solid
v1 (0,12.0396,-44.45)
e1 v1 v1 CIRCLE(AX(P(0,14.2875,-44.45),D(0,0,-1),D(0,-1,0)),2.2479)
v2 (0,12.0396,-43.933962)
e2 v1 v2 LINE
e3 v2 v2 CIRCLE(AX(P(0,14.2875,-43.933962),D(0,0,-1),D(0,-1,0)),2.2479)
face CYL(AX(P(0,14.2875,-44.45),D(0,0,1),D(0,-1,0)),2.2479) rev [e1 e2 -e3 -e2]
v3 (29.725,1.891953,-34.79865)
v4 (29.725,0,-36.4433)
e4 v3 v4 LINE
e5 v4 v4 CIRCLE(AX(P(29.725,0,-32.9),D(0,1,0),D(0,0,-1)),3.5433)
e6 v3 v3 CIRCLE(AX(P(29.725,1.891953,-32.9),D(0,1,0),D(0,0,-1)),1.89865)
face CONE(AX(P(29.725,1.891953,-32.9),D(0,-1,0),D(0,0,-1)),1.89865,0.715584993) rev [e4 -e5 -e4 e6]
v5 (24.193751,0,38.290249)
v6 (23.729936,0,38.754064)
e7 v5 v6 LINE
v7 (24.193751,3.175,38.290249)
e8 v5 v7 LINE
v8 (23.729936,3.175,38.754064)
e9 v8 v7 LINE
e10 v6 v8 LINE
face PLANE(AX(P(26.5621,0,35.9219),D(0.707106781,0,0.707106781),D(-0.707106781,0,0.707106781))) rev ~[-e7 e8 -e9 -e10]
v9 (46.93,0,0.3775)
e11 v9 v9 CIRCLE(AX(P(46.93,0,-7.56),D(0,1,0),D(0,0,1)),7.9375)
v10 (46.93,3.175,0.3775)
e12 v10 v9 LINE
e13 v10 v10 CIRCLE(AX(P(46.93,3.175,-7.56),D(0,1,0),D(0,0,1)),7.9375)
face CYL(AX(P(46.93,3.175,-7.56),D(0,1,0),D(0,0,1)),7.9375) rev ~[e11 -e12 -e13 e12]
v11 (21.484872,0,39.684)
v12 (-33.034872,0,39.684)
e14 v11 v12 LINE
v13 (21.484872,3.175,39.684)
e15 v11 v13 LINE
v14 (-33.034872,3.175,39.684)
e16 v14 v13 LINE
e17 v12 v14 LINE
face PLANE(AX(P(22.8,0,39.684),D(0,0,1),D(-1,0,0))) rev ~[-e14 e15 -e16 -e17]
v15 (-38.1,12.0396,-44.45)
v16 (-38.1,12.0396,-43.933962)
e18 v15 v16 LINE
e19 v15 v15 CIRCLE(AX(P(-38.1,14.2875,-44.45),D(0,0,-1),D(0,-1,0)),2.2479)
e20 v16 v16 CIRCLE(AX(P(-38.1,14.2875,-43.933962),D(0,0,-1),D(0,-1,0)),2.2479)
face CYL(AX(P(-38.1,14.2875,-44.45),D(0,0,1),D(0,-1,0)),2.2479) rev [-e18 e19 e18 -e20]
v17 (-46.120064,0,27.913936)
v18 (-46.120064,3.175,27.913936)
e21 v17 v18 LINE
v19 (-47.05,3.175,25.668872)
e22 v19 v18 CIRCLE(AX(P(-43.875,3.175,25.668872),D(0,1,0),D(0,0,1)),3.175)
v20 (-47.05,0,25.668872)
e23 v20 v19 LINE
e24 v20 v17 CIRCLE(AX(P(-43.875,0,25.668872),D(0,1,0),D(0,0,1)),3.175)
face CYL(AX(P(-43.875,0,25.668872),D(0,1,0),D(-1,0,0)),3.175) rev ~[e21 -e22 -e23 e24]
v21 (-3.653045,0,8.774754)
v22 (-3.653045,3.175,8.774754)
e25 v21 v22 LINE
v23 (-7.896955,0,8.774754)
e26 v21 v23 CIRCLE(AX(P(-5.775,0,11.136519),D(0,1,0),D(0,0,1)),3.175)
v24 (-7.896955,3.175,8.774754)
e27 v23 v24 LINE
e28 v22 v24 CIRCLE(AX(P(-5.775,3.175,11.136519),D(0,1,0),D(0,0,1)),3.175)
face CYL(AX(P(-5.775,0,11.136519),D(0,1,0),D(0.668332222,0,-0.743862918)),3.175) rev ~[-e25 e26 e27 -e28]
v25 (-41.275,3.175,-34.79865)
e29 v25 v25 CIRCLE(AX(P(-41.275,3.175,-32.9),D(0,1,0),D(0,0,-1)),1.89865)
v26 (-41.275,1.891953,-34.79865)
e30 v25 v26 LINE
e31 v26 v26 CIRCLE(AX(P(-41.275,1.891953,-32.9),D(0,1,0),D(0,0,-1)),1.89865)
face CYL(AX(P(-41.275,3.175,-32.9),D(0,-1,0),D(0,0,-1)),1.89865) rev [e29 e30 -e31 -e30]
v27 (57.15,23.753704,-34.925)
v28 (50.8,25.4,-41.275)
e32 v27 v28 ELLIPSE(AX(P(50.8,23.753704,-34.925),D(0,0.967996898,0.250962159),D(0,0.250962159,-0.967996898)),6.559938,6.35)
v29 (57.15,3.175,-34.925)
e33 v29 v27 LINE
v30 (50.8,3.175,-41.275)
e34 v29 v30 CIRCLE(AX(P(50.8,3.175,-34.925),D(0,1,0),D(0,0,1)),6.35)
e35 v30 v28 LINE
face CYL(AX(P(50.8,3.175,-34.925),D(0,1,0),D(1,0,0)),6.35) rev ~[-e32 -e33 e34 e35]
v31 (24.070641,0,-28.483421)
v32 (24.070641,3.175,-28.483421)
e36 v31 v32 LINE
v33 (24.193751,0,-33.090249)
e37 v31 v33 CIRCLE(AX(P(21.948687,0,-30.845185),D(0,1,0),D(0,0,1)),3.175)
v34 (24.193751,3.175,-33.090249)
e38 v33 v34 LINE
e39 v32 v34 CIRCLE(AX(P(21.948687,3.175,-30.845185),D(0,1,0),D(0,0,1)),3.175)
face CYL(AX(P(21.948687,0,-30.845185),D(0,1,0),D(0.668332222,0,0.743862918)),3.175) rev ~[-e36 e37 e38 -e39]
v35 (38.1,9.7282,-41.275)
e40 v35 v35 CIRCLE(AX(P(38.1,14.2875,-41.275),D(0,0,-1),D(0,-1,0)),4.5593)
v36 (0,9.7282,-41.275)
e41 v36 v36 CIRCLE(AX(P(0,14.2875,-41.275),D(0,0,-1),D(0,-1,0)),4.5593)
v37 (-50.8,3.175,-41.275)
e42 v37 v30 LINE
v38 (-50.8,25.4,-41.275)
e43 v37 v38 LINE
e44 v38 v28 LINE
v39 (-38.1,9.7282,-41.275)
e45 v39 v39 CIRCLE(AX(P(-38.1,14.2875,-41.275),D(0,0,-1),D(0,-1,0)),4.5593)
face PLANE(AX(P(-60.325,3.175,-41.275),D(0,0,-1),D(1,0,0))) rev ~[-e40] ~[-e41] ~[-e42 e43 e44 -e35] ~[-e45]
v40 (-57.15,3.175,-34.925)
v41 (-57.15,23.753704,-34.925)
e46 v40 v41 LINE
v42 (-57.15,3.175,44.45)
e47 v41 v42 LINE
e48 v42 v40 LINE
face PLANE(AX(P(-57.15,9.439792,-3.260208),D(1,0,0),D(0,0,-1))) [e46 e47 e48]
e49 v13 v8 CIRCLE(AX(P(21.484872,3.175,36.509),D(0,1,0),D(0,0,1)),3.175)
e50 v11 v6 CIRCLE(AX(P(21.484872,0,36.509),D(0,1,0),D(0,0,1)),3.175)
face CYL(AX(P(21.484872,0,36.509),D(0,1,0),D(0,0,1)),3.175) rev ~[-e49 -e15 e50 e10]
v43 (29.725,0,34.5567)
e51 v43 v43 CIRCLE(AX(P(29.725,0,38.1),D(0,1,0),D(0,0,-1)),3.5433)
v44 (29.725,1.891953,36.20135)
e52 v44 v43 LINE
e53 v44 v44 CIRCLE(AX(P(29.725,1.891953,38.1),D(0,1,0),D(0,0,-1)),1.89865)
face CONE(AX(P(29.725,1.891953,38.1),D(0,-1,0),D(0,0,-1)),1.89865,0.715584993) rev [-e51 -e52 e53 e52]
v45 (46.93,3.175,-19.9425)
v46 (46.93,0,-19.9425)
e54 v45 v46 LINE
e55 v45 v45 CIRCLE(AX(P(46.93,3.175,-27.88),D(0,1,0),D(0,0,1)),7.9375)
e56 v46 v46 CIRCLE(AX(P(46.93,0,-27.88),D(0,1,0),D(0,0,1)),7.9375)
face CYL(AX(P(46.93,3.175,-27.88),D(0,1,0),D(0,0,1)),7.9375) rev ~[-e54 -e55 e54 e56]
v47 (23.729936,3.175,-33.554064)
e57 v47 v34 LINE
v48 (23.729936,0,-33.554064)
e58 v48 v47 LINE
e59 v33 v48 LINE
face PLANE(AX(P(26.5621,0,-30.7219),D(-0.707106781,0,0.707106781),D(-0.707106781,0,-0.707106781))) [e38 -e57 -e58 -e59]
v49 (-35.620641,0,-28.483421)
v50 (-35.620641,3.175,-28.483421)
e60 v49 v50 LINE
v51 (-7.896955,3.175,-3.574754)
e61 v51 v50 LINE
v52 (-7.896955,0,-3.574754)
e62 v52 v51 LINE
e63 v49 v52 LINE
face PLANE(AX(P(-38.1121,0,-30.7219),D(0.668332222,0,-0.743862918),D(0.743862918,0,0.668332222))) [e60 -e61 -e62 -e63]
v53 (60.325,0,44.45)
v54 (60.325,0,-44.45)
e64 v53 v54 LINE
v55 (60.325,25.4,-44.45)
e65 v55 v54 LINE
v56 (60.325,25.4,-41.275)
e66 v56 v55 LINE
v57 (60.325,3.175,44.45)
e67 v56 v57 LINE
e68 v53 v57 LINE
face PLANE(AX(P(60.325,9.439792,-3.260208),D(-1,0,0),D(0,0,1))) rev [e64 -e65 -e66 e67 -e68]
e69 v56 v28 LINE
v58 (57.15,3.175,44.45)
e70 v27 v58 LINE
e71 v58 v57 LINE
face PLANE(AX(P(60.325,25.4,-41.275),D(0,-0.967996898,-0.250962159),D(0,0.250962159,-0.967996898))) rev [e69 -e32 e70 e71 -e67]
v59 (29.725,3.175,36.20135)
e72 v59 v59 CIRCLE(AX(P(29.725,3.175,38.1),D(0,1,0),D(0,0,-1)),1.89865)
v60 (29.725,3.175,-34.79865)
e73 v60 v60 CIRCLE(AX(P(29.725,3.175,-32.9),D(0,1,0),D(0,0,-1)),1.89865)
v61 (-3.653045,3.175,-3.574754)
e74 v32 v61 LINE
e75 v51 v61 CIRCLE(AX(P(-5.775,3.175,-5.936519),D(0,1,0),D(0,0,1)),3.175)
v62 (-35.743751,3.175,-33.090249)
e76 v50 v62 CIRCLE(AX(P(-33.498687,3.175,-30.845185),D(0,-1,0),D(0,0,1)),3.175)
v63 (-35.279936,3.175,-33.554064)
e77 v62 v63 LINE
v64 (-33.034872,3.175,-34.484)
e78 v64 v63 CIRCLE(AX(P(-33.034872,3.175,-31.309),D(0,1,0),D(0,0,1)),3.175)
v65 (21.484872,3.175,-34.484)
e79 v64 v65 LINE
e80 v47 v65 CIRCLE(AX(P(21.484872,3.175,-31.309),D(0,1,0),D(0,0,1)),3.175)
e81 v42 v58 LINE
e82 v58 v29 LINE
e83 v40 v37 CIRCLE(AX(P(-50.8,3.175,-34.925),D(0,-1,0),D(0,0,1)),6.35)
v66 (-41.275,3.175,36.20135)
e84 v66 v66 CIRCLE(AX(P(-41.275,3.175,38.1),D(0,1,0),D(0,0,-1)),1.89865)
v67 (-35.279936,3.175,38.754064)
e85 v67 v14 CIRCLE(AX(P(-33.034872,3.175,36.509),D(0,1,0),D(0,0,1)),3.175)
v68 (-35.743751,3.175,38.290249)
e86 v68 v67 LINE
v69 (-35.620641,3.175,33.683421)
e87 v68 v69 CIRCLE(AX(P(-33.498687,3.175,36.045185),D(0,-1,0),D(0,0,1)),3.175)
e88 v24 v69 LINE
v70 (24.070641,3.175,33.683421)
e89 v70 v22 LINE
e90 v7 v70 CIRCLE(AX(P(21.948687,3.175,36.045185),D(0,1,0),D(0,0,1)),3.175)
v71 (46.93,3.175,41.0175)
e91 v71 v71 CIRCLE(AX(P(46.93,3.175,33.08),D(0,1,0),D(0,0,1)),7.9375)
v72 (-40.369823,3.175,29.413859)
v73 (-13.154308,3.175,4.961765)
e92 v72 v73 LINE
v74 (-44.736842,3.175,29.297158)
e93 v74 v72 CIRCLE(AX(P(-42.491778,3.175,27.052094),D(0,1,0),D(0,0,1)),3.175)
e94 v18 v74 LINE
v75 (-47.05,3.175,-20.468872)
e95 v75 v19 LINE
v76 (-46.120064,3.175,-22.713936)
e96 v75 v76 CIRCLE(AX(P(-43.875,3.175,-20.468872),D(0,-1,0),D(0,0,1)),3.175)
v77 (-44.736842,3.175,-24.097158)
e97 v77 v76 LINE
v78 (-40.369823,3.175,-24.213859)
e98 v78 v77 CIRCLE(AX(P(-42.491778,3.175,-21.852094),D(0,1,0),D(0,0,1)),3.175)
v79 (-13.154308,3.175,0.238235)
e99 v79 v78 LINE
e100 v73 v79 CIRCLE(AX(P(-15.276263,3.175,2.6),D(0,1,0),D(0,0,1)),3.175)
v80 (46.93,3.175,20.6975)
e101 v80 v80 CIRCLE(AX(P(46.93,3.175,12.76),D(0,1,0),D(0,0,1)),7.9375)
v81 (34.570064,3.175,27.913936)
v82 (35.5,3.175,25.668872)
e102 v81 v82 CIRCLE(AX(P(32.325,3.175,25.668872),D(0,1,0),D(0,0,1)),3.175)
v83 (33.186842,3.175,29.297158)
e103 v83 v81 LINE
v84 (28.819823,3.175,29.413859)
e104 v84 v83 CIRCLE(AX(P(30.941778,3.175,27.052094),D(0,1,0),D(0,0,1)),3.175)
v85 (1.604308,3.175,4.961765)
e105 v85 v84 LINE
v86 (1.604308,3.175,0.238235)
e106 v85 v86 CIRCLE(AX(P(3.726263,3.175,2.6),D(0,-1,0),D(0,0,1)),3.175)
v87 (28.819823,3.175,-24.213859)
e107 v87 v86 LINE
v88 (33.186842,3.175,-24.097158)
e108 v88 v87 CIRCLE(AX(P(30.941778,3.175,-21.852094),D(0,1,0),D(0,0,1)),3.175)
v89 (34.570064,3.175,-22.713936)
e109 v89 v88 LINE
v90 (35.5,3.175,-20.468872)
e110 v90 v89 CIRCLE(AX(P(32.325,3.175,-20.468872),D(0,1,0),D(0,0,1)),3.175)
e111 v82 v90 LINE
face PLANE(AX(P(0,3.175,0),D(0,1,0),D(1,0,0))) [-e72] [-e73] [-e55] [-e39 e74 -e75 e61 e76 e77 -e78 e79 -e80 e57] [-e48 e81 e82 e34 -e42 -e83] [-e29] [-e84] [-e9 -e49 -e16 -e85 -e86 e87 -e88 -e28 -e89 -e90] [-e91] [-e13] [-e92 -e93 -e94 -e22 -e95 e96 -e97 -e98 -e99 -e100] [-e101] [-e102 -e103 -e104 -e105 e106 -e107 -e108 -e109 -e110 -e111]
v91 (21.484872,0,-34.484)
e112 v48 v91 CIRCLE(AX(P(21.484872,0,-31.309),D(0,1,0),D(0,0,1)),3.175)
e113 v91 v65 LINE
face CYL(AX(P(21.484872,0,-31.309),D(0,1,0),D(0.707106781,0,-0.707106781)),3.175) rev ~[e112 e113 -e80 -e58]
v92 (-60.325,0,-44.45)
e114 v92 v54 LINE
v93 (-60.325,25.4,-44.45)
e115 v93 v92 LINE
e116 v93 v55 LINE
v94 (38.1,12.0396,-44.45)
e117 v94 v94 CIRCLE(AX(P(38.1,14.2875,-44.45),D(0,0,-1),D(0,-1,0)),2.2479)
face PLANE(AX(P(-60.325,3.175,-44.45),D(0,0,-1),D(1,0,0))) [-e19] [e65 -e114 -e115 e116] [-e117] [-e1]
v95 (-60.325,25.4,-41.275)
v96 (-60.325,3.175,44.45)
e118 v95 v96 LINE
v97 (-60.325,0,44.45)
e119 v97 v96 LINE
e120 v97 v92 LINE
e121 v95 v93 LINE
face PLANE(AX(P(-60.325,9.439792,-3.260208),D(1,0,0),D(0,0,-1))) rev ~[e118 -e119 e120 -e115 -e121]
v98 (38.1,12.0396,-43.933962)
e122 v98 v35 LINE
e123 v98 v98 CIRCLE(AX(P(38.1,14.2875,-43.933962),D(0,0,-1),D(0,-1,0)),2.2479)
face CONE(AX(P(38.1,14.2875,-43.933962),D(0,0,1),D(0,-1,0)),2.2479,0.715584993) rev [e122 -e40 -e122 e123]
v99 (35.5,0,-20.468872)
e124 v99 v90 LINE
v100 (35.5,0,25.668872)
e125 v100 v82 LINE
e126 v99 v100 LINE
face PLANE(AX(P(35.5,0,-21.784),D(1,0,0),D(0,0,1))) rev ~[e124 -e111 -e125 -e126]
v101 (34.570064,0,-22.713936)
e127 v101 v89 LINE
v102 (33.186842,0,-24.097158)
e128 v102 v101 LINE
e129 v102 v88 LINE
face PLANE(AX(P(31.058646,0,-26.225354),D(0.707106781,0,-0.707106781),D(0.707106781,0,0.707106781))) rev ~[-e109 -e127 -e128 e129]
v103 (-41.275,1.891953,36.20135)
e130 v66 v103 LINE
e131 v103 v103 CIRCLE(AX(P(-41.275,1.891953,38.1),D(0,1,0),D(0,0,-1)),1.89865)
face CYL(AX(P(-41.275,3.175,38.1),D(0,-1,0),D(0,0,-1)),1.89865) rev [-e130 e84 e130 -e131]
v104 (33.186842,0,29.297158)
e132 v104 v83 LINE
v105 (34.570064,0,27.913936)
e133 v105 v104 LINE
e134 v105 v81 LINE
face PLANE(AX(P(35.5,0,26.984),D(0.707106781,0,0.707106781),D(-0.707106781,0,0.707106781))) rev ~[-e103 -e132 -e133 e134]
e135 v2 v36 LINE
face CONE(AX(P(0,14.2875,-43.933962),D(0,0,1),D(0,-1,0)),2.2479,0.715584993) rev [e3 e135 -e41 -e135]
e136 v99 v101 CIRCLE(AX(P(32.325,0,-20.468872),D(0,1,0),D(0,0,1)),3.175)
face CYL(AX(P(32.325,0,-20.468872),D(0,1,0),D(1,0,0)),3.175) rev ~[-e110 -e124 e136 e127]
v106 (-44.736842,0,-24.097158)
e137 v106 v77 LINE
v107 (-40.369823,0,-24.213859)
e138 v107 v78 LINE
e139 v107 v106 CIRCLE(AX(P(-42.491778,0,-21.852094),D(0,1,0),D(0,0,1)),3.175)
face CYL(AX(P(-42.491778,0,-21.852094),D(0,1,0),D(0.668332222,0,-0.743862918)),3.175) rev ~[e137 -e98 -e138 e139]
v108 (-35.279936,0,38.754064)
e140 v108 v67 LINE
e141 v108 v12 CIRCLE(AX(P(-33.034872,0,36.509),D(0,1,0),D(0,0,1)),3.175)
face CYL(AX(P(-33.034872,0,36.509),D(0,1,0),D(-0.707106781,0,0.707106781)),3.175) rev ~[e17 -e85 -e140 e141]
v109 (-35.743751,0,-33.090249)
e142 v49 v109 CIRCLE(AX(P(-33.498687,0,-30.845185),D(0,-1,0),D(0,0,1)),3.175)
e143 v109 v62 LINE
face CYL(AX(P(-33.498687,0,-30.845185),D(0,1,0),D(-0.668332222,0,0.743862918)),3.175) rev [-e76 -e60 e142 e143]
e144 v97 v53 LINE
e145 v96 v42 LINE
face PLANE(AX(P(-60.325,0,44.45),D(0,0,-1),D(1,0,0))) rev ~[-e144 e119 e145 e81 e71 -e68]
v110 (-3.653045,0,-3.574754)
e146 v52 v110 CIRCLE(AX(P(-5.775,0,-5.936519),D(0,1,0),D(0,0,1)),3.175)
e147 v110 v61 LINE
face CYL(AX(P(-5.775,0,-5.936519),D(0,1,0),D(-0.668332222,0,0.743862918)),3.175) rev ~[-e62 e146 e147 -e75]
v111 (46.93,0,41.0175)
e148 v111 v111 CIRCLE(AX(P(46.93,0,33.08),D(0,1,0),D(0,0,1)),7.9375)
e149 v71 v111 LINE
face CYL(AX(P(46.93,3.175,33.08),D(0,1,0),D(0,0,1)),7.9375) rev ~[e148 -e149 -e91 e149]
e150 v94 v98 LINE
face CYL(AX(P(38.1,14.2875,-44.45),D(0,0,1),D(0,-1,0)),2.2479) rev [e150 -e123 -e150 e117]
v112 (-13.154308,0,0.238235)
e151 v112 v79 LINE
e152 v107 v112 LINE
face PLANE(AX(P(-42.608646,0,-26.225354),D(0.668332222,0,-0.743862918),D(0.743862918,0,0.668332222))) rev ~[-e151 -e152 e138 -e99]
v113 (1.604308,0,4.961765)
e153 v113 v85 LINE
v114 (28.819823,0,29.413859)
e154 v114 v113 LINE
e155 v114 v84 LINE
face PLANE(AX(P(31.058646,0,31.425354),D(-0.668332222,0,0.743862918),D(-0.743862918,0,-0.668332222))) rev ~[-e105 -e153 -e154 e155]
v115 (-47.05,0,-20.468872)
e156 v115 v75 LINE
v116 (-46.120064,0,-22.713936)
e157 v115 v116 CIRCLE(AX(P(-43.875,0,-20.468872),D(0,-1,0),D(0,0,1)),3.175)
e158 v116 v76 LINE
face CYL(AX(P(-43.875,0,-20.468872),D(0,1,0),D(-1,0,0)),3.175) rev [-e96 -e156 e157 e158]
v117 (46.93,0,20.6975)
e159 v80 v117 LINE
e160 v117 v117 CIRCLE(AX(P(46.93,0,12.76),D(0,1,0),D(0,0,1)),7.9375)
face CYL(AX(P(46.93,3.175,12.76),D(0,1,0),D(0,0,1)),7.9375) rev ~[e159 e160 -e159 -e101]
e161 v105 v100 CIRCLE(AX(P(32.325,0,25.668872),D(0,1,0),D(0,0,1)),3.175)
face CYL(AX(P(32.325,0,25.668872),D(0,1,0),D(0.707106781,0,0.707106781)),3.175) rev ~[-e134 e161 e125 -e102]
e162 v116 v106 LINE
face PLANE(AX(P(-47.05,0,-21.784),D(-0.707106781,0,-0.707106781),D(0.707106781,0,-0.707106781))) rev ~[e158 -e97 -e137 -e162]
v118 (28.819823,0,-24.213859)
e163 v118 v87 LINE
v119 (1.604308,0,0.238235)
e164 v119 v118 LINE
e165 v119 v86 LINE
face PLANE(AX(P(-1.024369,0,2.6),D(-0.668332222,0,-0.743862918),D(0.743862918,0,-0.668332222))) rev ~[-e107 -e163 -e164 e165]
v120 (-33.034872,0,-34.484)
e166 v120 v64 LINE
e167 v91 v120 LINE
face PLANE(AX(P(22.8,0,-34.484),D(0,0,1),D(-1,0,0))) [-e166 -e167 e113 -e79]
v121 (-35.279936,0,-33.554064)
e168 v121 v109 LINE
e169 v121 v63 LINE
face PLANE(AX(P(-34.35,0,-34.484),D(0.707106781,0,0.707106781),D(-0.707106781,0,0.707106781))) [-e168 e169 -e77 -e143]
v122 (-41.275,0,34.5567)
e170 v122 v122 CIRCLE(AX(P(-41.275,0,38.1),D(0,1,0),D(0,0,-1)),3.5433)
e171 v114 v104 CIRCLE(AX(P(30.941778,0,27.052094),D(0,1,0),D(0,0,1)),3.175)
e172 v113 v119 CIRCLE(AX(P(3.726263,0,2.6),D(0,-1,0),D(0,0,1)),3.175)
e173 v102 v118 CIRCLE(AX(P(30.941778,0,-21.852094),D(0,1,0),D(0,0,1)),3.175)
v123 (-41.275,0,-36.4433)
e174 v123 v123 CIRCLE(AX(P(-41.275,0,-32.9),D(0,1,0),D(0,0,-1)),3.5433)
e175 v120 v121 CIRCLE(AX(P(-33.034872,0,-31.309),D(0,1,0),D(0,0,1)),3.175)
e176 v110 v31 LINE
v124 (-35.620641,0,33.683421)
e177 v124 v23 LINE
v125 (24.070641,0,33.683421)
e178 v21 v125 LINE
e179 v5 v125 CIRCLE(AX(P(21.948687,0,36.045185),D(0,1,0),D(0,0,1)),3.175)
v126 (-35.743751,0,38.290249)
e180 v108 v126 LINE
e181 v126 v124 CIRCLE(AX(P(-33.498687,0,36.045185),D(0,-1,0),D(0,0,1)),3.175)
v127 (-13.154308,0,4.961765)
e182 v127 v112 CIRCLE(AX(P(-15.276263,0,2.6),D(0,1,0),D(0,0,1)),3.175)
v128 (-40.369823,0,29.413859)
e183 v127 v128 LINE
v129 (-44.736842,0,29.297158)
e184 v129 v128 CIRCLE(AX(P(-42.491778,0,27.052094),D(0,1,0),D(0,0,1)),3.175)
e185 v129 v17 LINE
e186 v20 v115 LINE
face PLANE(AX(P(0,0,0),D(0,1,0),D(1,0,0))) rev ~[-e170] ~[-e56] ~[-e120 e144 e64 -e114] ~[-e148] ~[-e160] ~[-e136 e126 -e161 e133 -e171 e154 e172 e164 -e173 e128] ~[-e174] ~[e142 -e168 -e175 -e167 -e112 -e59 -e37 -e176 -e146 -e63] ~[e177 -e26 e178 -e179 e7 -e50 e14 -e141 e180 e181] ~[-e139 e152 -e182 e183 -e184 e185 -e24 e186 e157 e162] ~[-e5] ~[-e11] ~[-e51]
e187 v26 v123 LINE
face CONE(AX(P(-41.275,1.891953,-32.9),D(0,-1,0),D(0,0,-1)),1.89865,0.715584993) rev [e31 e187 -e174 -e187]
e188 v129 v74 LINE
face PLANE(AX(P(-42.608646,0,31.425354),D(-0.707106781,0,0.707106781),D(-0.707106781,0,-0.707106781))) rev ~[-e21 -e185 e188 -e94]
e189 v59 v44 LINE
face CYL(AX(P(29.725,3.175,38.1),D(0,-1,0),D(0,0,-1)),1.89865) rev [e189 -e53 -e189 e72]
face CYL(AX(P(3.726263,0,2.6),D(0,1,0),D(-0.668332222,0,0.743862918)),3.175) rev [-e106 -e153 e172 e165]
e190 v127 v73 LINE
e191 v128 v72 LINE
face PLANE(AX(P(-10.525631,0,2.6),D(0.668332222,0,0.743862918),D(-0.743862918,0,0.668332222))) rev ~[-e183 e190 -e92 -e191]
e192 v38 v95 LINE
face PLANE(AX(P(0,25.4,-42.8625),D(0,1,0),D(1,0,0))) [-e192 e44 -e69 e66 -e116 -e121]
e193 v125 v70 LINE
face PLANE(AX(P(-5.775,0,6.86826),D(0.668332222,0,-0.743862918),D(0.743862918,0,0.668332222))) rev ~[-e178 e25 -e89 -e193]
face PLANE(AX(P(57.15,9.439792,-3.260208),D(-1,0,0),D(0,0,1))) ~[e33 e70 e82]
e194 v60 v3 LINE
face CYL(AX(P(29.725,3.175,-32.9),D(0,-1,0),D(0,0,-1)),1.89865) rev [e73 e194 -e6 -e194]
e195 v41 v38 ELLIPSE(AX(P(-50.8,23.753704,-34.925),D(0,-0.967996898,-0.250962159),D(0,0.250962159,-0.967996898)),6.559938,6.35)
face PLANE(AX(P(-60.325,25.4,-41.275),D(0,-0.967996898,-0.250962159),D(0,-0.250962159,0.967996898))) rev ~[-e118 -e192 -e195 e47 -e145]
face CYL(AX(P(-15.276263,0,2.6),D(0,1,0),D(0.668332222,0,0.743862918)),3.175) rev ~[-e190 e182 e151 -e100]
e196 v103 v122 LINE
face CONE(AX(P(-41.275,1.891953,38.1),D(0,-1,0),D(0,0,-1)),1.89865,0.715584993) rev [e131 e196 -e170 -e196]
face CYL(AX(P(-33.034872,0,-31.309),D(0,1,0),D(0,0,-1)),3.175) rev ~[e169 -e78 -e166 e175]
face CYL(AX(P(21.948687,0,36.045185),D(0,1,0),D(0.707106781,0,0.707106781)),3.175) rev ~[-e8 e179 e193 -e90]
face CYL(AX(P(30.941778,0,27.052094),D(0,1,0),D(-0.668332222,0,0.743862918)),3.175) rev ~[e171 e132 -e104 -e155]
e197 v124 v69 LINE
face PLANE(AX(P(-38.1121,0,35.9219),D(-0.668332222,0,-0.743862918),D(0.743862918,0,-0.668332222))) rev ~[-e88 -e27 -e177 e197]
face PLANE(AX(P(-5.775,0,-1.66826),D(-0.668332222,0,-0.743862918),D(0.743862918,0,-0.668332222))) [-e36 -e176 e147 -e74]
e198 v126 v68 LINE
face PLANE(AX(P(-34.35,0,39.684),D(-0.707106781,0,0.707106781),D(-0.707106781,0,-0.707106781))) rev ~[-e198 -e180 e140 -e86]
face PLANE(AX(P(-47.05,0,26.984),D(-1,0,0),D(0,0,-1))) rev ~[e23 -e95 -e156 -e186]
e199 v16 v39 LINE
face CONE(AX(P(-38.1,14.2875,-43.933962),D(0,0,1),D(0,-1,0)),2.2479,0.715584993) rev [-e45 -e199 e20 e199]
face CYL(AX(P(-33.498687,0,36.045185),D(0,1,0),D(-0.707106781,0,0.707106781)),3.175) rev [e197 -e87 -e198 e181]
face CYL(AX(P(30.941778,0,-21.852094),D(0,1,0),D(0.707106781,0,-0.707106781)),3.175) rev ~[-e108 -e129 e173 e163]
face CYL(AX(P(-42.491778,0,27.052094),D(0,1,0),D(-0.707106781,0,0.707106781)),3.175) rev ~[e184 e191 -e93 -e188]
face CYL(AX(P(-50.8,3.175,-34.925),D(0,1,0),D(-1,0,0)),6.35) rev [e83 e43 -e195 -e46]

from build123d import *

# Parameters (mm, degrees)
SKETCH1_W                                     = 120.65
SKETCH1_H                                     = 88.9
BOSS_EXTRUDE1_DEPTH                           = 3.175
SKETCH2_W                                     = 120.65
SKETCH2_H                                     = 3.175
BOSS_EXTRUDE2_DEPTH                           = 22.225
CSK_FOR_6_FLAT_HEAD_MACHINE_SCREW1_AT_2_COUNT = 2
CSK_FOR_6_FLAT_HEAD_MACHINE_SCREW1_AT_2_PITCH = 71
CSK_FOR_6_FLAT_HEAD_MACHINE_SCREW1_AT_3_COUNT = 2
CSK_FOR_6_FLAT_HEAD_MACHINE_SCREW1_AT_3_PITCH = 100.409162928
CSK_FOR_6_FLAT_HEAD_MACHINE_SCREW1_AT_4_COUNT = 2
CSK_FOR_6_FLAT_HEAD_MACHINE_SCREW1_AT_4_PITCH = 71
CUT_EXTRUDE1_DEPTH                            = 80.120592294
FILLET2_R                                     = 3.175
BOSS_EXTRUDE3_DEPTH                           = 3.175
FILLET3_R                                     = 6.35
FILLET3_OF_MIRROR1_R                          = 6.35
CSK_FOR_8_FLAT_HEAD_SOCKET_CAP_SCREW1_A_COUNT = 2
CSK_FOR_8_FLAT_HEAD_SOCKET_CAP_SCREW1_A_PITCH = 76.2
CSK_FOR_8_FLAT_HEAD_SOCKET_CAP_SCRE_2_COUNT   = 2
CSK_FOR_8_FLAT_HEAD_SOCKET_CAP_SCRE_2_PITCH   = 38.1
CUT_EXTRUDE2_REACH                            = 80.159
SKETCH12_R                                    = 7.9375


with BuildPart() as part:
    # Sketch1 → Boss-Extrude1 (new body)
    with BuildSketch(Plane(origin=(0, 0, 0), x_dir=(1, 0, 0), z_dir=(0, 1, 0))):
        Rectangle(SKETCH1_W, SKETCH1_H)
    extrude(amount=BOSS_EXTRUDE1_DEPTH)

    # Sketch2 → Boss-Extrude2 (add)
    with BuildSketch(Plane(origin=(0, 3.175, 0), x_dir=(1, 0, 0), z_dir=(0, 1, 0))):
        with Locations((0, 42.8625)):
            Rectangle(SKETCH2_W, SKETCH2_H)
    extrude(amount=BOSS_EXTRUDE2_DEPTH)

    # Sketch4 → CSK for #6 Flat Head Machine Screw1 (revolve, cut)
    with BuildSketch(Plane(origin=(29.725, 0, 38.1), x_dir=(0, 0, -1), z_dir=(1, 0, 0))):
        Polygon((0, 0), (0, 3.175), (1.89865, 3.175), (1.89865, 1.891953401), (3.5433, 0), align=None)
    csk_for_6_flat_head_machine_screw1 = revolve(axis=Axis((29.725, -6.35, 38.1), (0, 1, 0)), mode=Mode.SUBTRACT)

    # CSK for #6 Flat Head Machine Screw1 at 2: CSK for #6 Flat Head Machine Screw1 ×2
    with Locations(*[(0, 0, -i * CSK_FOR_6_FLAT_HEAD_MACHINE_SCREW1_AT_2_PITCH) for i in range(1, CSK_FOR_6_FLAT_HEAD_MACHINE_SCREW1_AT_2_COUNT)]):
        add(csk_for_6_flat_head_machine_screw1, mode=Mode.SUBTRACT)

    # CSK for #6 Flat Head Machine Screw1 at 3: CSK for #6 Flat Head Machine Screw1 ×2
    with Locations(*[Vector(-0.7071067811865476, 0, -0.7071067811865476) * (i * CSK_FOR_6_FLAT_HEAD_MACHINE_SCREW1_AT_3_PITCH) for i in range(1, CSK_FOR_6_FLAT_HEAD_MACHINE_SCREW1_AT_3_COUNT)]):
        add(csk_for_6_flat_head_machine_screw1, mode=Mode.SUBTRACT)

    # CSK for #6 Flat Head Machine Screw1 at 4: CSK for #6 Flat Head Machine Screw1 ×2
    with Locations(*[(-i * CSK_FOR_6_FLAT_HEAD_MACHINE_SCREW1_AT_4_PITCH, 0, 0) for i in range(1, CSK_FOR_6_FLAT_HEAD_MACHINE_SCREW1_AT_4_COUNT)]):
        add(csk_for_6_flat_head_machine_screw1, mode=Mode.SUBTRACT)

    # Sketch6 → Cut-Extrude1 (cut, through all)
    with BuildSketch(Plane.XZ):
        Polygon((-47.05, -21.784), (-42.608645627, -26.225354373), (-10.525631341, 2.6), (-42.608645627, 31.425354373), (-47.05, 26.984), align=None)
        Polygon((-38.112099916, 35.921900084), (-5.775, 6.868259544), (26.562099916, 35.921900084), (22.8, 39.684), (-34.35, 39.684), align=None)
        Polygon((-1.024368659, 2.6), (31.058645627, -26.225354373), (35.5, -21.784), (35.5, 26.984), (31.058645627, 31.425354373), align=None)
        Polygon((-38.112099916, -30.721900084), (-5.775, -1.668259544), (26.562099916, -30.721900084), (22.8, -34.484), (-34.35, -34.484), align=None)
    extrude(amount=-CUT_EXTRUDE1_DEPTH, mode=Mode.SUBTRACT)

    # Fillet2
    fillet2_edges = [part.edges().sort_by_distance(p)[0] for p in [
        (31.058645627, 1.5875, -26.225354373),
        (-1.024368659, 1.5875, 2.6),
        (31.058645627, 1.5875, 31.425354373),
        (35.5, 1.5875, 26.984),
        (35.5, 1.5875, -21.784),
        (-38.112099916, 1.5875, -30.721900084),
        (-5.775, 1.5875, -1.668259544),
        (26.562099916, 1.5875, -30.721900084),
        (22.8, 1.5875, -34.484),
        (-34.35, 1.5875, -34.484),
        (-42.608645627, 1.5875, -26.225354373),
        (-47.05, 1.5875, -21.784),
        (-47.05, 1.5875, 26.984),
        (-42.608645627, 1.5875, 31.425354373),
        (-10.525631341, 1.5875, 2.6),
        (-5.775, 1.5875, 6.868259544),
        (-38.112099916, 1.5875, 35.921900084),
        (-34.35, 1.5875, 39.684),
        (22.8, 1.5875, 39.684),
        (26.562099916, 1.5875, 35.921900084),
    ]]
    fillet(fillet2_edges, radius=FILLET2_R)

    # Sketch9 → Boss-Extrude3 (add)
    with BuildSketch(Plane.ZY.offset(60.325)):
        Polygon((-41.275, 25.4), (44.45, 3.175), (-41.275, 3.175), align=None)
    boss_extrude3 = extrude(amount=-BOSS_EXTRUDE3_DEPTH)

    # Fillet3
    fillet3_edges = [part.edges().sort_by_distance(p)[0] for p in [
        (-57.15, 14.2875, -41.275),
    ]]
    fillet(fillet3_edges, radius=FILLET3_R)

    # Mirror1: Boss-Extrude3 across plane
    add(boss_extrude3.mirror(Plane(origin=(0, 0, 0), x_dir=(0, 0, 1), z_dir=(1, 0, 0))))

    # Fillet3 of Mirror1
    fillet3_of_mirror1_edges = [part.edges().sort_by_distance(p)[0] for p in [
        (57.15, 14.2875, -41.275),
    ]]
    fillet(fillet3_of_mirror1_edges, radius=FILLET3_OF_MIRROR1_R)

    # Sketch10 → CSK for #8 Flat Head Socket Cap Screw1 (revolve, cut)
    with BuildSketch(Plane(origin=(-38.1, 14.2875, -41.275), x_dir=(0, -1, 0), z_dir=(1, 0, 0))):
        Polygon((0, 0), (0, 3.175), (2.2479, 3.175), (2.2479, 2.658961536), (4.5593, 0), align=None)
    csk_for_8_flat_head_socket_cap_screw1 = revolve(axis=Axis((-38.1, 14.2875, -34.925), (0, 0, -1)), mode=Mode.SUBTRACT)

    # CSK for #8 Flat Head Socket Cap Screw1 a: CSK for #8 Flat Head Socket Cap Screw1 ×2
    with Locations(*[(i * CSK_FOR_8_FLAT_HEAD_SOCKET_CAP_SCREW1_A_PITCH, 0, 0) for i in range(1, CSK_FOR_8_FLAT_HEAD_SOCKET_CAP_SCREW1_A_COUNT)]):
        add(csk_for_8_flat_head_socket_cap_screw1, mode=Mode.SUBTRACT)

    # CSK for _8 Flat Head Socket Cap Scre 2: CSK for #8 Flat Head Socket Cap Screw1 ×2
    with Locations(*[(i * CSK_FOR_8_FLAT_HEAD_SOCKET_CAP_SCRE_2_PITCH, 0, 0) for i in range(1, CSK_FOR_8_FLAT_HEAD_SOCKET_CAP_SCRE_2_COUNT)]):
        add(csk_for_8_flat_head_socket_cap_screw1, mode=Mode.SUBTRACT)

    # Sketch12 → Cut-Extrude2 (cut, up to next)
    with BuildSketch(Plane(origin=(0, 3.175, 0), x_dir=(1, 0, 0), z_dir=(0, 1, 0)), mode=Mode.PRIVATE) as cut_extrude2_sk1:
        with Locations(Location((46.93, 27.88, 0), (0, 0, 270))):
            Circle(SKETCH12_R)
    cut_extrude2_tool1 = extrude(cut_extrude2_sk1.sketch, amount=-CUT_EXTRUDE2_REACH, mode=Mode.PRIVATE) & part.part
    # Sketch12 → Cut-Extrude2 (cut, up to next)
    with BuildSketch(Plane(origin=(0, 3.175, 0), x_dir=(1, 0, 0), z_dir=(0, 1, 0)), mode=Mode.PRIVATE) as cut_extrude2_sk2:
        with Locations(Location((46.93, 7.56, 0), (0, 0, 270))):
            Circle(SKETCH12_R)
    cut_extrude2_tool2 = extrude(cut_extrude2_sk2.sketch, amount=-CUT_EXTRUDE2_REACH, mode=Mode.PRIVATE) & part.part
    # Sketch12 → Cut-Extrude2 (cut, up to next)
    with BuildSketch(Plane(origin=(0, 3.175, 0), x_dir=(1, 0, 0), z_dir=(0, 1, 0)), mode=Mode.PRIVATE) as cut_extrude2_sk3:
        with Locations(Location((46.93, -12.76, 0), (0, 0, 270))):
            Circle(SKETCH12_R)
    cut_extrude2_tool3 = extrude(cut_extrude2_sk3.sketch, amount=-CUT_EXTRUDE2_REACH, mode=Mode.PRIVATE) & part.part
    # Sketch12 → Cut-Extrude2 (cut, up to next)
    with BuildSketch(Plane(origin=(0, 3.175, 0), x_dir=(1, 0, 0), z_dir=(0, 1, 0)), mode=Mode.PRIVATE) as cut_extrude2_sk4:
        with Locations(Location((46.93, -33.08, 0), (0, 0, 270))):
            Circle(SKETCH12_R)
    cut_extrude2_tool4 = extrude(cut_extrude2_sk4.sketch, amount=-CUT_EXTRUDE2_REACH, mode=Mode.PRIVATE) & part.part
    add(cut_extrude2_tool1.solids().sort_by_distance((46.93, 3.175, -27.88))[0], mode=Mode.SUBTRACT)
    add(cut_extrude2_tool2.solids().sort_by_distance((46.93, 3.175, -7.56))[0], mode=Mode.SUBTRACT)
    add(cut_extrude2_tool3.solids().sort_by_distance((46.93, 3.175, 12.76))[0], mode=Mode.SUBTRACT)
    add(cut_extrude2_tool4.solids().sort_by_distance((46.93, 3.175, 33.08))[0], mode=Mode.SUBTRACT)


solid = part.part
